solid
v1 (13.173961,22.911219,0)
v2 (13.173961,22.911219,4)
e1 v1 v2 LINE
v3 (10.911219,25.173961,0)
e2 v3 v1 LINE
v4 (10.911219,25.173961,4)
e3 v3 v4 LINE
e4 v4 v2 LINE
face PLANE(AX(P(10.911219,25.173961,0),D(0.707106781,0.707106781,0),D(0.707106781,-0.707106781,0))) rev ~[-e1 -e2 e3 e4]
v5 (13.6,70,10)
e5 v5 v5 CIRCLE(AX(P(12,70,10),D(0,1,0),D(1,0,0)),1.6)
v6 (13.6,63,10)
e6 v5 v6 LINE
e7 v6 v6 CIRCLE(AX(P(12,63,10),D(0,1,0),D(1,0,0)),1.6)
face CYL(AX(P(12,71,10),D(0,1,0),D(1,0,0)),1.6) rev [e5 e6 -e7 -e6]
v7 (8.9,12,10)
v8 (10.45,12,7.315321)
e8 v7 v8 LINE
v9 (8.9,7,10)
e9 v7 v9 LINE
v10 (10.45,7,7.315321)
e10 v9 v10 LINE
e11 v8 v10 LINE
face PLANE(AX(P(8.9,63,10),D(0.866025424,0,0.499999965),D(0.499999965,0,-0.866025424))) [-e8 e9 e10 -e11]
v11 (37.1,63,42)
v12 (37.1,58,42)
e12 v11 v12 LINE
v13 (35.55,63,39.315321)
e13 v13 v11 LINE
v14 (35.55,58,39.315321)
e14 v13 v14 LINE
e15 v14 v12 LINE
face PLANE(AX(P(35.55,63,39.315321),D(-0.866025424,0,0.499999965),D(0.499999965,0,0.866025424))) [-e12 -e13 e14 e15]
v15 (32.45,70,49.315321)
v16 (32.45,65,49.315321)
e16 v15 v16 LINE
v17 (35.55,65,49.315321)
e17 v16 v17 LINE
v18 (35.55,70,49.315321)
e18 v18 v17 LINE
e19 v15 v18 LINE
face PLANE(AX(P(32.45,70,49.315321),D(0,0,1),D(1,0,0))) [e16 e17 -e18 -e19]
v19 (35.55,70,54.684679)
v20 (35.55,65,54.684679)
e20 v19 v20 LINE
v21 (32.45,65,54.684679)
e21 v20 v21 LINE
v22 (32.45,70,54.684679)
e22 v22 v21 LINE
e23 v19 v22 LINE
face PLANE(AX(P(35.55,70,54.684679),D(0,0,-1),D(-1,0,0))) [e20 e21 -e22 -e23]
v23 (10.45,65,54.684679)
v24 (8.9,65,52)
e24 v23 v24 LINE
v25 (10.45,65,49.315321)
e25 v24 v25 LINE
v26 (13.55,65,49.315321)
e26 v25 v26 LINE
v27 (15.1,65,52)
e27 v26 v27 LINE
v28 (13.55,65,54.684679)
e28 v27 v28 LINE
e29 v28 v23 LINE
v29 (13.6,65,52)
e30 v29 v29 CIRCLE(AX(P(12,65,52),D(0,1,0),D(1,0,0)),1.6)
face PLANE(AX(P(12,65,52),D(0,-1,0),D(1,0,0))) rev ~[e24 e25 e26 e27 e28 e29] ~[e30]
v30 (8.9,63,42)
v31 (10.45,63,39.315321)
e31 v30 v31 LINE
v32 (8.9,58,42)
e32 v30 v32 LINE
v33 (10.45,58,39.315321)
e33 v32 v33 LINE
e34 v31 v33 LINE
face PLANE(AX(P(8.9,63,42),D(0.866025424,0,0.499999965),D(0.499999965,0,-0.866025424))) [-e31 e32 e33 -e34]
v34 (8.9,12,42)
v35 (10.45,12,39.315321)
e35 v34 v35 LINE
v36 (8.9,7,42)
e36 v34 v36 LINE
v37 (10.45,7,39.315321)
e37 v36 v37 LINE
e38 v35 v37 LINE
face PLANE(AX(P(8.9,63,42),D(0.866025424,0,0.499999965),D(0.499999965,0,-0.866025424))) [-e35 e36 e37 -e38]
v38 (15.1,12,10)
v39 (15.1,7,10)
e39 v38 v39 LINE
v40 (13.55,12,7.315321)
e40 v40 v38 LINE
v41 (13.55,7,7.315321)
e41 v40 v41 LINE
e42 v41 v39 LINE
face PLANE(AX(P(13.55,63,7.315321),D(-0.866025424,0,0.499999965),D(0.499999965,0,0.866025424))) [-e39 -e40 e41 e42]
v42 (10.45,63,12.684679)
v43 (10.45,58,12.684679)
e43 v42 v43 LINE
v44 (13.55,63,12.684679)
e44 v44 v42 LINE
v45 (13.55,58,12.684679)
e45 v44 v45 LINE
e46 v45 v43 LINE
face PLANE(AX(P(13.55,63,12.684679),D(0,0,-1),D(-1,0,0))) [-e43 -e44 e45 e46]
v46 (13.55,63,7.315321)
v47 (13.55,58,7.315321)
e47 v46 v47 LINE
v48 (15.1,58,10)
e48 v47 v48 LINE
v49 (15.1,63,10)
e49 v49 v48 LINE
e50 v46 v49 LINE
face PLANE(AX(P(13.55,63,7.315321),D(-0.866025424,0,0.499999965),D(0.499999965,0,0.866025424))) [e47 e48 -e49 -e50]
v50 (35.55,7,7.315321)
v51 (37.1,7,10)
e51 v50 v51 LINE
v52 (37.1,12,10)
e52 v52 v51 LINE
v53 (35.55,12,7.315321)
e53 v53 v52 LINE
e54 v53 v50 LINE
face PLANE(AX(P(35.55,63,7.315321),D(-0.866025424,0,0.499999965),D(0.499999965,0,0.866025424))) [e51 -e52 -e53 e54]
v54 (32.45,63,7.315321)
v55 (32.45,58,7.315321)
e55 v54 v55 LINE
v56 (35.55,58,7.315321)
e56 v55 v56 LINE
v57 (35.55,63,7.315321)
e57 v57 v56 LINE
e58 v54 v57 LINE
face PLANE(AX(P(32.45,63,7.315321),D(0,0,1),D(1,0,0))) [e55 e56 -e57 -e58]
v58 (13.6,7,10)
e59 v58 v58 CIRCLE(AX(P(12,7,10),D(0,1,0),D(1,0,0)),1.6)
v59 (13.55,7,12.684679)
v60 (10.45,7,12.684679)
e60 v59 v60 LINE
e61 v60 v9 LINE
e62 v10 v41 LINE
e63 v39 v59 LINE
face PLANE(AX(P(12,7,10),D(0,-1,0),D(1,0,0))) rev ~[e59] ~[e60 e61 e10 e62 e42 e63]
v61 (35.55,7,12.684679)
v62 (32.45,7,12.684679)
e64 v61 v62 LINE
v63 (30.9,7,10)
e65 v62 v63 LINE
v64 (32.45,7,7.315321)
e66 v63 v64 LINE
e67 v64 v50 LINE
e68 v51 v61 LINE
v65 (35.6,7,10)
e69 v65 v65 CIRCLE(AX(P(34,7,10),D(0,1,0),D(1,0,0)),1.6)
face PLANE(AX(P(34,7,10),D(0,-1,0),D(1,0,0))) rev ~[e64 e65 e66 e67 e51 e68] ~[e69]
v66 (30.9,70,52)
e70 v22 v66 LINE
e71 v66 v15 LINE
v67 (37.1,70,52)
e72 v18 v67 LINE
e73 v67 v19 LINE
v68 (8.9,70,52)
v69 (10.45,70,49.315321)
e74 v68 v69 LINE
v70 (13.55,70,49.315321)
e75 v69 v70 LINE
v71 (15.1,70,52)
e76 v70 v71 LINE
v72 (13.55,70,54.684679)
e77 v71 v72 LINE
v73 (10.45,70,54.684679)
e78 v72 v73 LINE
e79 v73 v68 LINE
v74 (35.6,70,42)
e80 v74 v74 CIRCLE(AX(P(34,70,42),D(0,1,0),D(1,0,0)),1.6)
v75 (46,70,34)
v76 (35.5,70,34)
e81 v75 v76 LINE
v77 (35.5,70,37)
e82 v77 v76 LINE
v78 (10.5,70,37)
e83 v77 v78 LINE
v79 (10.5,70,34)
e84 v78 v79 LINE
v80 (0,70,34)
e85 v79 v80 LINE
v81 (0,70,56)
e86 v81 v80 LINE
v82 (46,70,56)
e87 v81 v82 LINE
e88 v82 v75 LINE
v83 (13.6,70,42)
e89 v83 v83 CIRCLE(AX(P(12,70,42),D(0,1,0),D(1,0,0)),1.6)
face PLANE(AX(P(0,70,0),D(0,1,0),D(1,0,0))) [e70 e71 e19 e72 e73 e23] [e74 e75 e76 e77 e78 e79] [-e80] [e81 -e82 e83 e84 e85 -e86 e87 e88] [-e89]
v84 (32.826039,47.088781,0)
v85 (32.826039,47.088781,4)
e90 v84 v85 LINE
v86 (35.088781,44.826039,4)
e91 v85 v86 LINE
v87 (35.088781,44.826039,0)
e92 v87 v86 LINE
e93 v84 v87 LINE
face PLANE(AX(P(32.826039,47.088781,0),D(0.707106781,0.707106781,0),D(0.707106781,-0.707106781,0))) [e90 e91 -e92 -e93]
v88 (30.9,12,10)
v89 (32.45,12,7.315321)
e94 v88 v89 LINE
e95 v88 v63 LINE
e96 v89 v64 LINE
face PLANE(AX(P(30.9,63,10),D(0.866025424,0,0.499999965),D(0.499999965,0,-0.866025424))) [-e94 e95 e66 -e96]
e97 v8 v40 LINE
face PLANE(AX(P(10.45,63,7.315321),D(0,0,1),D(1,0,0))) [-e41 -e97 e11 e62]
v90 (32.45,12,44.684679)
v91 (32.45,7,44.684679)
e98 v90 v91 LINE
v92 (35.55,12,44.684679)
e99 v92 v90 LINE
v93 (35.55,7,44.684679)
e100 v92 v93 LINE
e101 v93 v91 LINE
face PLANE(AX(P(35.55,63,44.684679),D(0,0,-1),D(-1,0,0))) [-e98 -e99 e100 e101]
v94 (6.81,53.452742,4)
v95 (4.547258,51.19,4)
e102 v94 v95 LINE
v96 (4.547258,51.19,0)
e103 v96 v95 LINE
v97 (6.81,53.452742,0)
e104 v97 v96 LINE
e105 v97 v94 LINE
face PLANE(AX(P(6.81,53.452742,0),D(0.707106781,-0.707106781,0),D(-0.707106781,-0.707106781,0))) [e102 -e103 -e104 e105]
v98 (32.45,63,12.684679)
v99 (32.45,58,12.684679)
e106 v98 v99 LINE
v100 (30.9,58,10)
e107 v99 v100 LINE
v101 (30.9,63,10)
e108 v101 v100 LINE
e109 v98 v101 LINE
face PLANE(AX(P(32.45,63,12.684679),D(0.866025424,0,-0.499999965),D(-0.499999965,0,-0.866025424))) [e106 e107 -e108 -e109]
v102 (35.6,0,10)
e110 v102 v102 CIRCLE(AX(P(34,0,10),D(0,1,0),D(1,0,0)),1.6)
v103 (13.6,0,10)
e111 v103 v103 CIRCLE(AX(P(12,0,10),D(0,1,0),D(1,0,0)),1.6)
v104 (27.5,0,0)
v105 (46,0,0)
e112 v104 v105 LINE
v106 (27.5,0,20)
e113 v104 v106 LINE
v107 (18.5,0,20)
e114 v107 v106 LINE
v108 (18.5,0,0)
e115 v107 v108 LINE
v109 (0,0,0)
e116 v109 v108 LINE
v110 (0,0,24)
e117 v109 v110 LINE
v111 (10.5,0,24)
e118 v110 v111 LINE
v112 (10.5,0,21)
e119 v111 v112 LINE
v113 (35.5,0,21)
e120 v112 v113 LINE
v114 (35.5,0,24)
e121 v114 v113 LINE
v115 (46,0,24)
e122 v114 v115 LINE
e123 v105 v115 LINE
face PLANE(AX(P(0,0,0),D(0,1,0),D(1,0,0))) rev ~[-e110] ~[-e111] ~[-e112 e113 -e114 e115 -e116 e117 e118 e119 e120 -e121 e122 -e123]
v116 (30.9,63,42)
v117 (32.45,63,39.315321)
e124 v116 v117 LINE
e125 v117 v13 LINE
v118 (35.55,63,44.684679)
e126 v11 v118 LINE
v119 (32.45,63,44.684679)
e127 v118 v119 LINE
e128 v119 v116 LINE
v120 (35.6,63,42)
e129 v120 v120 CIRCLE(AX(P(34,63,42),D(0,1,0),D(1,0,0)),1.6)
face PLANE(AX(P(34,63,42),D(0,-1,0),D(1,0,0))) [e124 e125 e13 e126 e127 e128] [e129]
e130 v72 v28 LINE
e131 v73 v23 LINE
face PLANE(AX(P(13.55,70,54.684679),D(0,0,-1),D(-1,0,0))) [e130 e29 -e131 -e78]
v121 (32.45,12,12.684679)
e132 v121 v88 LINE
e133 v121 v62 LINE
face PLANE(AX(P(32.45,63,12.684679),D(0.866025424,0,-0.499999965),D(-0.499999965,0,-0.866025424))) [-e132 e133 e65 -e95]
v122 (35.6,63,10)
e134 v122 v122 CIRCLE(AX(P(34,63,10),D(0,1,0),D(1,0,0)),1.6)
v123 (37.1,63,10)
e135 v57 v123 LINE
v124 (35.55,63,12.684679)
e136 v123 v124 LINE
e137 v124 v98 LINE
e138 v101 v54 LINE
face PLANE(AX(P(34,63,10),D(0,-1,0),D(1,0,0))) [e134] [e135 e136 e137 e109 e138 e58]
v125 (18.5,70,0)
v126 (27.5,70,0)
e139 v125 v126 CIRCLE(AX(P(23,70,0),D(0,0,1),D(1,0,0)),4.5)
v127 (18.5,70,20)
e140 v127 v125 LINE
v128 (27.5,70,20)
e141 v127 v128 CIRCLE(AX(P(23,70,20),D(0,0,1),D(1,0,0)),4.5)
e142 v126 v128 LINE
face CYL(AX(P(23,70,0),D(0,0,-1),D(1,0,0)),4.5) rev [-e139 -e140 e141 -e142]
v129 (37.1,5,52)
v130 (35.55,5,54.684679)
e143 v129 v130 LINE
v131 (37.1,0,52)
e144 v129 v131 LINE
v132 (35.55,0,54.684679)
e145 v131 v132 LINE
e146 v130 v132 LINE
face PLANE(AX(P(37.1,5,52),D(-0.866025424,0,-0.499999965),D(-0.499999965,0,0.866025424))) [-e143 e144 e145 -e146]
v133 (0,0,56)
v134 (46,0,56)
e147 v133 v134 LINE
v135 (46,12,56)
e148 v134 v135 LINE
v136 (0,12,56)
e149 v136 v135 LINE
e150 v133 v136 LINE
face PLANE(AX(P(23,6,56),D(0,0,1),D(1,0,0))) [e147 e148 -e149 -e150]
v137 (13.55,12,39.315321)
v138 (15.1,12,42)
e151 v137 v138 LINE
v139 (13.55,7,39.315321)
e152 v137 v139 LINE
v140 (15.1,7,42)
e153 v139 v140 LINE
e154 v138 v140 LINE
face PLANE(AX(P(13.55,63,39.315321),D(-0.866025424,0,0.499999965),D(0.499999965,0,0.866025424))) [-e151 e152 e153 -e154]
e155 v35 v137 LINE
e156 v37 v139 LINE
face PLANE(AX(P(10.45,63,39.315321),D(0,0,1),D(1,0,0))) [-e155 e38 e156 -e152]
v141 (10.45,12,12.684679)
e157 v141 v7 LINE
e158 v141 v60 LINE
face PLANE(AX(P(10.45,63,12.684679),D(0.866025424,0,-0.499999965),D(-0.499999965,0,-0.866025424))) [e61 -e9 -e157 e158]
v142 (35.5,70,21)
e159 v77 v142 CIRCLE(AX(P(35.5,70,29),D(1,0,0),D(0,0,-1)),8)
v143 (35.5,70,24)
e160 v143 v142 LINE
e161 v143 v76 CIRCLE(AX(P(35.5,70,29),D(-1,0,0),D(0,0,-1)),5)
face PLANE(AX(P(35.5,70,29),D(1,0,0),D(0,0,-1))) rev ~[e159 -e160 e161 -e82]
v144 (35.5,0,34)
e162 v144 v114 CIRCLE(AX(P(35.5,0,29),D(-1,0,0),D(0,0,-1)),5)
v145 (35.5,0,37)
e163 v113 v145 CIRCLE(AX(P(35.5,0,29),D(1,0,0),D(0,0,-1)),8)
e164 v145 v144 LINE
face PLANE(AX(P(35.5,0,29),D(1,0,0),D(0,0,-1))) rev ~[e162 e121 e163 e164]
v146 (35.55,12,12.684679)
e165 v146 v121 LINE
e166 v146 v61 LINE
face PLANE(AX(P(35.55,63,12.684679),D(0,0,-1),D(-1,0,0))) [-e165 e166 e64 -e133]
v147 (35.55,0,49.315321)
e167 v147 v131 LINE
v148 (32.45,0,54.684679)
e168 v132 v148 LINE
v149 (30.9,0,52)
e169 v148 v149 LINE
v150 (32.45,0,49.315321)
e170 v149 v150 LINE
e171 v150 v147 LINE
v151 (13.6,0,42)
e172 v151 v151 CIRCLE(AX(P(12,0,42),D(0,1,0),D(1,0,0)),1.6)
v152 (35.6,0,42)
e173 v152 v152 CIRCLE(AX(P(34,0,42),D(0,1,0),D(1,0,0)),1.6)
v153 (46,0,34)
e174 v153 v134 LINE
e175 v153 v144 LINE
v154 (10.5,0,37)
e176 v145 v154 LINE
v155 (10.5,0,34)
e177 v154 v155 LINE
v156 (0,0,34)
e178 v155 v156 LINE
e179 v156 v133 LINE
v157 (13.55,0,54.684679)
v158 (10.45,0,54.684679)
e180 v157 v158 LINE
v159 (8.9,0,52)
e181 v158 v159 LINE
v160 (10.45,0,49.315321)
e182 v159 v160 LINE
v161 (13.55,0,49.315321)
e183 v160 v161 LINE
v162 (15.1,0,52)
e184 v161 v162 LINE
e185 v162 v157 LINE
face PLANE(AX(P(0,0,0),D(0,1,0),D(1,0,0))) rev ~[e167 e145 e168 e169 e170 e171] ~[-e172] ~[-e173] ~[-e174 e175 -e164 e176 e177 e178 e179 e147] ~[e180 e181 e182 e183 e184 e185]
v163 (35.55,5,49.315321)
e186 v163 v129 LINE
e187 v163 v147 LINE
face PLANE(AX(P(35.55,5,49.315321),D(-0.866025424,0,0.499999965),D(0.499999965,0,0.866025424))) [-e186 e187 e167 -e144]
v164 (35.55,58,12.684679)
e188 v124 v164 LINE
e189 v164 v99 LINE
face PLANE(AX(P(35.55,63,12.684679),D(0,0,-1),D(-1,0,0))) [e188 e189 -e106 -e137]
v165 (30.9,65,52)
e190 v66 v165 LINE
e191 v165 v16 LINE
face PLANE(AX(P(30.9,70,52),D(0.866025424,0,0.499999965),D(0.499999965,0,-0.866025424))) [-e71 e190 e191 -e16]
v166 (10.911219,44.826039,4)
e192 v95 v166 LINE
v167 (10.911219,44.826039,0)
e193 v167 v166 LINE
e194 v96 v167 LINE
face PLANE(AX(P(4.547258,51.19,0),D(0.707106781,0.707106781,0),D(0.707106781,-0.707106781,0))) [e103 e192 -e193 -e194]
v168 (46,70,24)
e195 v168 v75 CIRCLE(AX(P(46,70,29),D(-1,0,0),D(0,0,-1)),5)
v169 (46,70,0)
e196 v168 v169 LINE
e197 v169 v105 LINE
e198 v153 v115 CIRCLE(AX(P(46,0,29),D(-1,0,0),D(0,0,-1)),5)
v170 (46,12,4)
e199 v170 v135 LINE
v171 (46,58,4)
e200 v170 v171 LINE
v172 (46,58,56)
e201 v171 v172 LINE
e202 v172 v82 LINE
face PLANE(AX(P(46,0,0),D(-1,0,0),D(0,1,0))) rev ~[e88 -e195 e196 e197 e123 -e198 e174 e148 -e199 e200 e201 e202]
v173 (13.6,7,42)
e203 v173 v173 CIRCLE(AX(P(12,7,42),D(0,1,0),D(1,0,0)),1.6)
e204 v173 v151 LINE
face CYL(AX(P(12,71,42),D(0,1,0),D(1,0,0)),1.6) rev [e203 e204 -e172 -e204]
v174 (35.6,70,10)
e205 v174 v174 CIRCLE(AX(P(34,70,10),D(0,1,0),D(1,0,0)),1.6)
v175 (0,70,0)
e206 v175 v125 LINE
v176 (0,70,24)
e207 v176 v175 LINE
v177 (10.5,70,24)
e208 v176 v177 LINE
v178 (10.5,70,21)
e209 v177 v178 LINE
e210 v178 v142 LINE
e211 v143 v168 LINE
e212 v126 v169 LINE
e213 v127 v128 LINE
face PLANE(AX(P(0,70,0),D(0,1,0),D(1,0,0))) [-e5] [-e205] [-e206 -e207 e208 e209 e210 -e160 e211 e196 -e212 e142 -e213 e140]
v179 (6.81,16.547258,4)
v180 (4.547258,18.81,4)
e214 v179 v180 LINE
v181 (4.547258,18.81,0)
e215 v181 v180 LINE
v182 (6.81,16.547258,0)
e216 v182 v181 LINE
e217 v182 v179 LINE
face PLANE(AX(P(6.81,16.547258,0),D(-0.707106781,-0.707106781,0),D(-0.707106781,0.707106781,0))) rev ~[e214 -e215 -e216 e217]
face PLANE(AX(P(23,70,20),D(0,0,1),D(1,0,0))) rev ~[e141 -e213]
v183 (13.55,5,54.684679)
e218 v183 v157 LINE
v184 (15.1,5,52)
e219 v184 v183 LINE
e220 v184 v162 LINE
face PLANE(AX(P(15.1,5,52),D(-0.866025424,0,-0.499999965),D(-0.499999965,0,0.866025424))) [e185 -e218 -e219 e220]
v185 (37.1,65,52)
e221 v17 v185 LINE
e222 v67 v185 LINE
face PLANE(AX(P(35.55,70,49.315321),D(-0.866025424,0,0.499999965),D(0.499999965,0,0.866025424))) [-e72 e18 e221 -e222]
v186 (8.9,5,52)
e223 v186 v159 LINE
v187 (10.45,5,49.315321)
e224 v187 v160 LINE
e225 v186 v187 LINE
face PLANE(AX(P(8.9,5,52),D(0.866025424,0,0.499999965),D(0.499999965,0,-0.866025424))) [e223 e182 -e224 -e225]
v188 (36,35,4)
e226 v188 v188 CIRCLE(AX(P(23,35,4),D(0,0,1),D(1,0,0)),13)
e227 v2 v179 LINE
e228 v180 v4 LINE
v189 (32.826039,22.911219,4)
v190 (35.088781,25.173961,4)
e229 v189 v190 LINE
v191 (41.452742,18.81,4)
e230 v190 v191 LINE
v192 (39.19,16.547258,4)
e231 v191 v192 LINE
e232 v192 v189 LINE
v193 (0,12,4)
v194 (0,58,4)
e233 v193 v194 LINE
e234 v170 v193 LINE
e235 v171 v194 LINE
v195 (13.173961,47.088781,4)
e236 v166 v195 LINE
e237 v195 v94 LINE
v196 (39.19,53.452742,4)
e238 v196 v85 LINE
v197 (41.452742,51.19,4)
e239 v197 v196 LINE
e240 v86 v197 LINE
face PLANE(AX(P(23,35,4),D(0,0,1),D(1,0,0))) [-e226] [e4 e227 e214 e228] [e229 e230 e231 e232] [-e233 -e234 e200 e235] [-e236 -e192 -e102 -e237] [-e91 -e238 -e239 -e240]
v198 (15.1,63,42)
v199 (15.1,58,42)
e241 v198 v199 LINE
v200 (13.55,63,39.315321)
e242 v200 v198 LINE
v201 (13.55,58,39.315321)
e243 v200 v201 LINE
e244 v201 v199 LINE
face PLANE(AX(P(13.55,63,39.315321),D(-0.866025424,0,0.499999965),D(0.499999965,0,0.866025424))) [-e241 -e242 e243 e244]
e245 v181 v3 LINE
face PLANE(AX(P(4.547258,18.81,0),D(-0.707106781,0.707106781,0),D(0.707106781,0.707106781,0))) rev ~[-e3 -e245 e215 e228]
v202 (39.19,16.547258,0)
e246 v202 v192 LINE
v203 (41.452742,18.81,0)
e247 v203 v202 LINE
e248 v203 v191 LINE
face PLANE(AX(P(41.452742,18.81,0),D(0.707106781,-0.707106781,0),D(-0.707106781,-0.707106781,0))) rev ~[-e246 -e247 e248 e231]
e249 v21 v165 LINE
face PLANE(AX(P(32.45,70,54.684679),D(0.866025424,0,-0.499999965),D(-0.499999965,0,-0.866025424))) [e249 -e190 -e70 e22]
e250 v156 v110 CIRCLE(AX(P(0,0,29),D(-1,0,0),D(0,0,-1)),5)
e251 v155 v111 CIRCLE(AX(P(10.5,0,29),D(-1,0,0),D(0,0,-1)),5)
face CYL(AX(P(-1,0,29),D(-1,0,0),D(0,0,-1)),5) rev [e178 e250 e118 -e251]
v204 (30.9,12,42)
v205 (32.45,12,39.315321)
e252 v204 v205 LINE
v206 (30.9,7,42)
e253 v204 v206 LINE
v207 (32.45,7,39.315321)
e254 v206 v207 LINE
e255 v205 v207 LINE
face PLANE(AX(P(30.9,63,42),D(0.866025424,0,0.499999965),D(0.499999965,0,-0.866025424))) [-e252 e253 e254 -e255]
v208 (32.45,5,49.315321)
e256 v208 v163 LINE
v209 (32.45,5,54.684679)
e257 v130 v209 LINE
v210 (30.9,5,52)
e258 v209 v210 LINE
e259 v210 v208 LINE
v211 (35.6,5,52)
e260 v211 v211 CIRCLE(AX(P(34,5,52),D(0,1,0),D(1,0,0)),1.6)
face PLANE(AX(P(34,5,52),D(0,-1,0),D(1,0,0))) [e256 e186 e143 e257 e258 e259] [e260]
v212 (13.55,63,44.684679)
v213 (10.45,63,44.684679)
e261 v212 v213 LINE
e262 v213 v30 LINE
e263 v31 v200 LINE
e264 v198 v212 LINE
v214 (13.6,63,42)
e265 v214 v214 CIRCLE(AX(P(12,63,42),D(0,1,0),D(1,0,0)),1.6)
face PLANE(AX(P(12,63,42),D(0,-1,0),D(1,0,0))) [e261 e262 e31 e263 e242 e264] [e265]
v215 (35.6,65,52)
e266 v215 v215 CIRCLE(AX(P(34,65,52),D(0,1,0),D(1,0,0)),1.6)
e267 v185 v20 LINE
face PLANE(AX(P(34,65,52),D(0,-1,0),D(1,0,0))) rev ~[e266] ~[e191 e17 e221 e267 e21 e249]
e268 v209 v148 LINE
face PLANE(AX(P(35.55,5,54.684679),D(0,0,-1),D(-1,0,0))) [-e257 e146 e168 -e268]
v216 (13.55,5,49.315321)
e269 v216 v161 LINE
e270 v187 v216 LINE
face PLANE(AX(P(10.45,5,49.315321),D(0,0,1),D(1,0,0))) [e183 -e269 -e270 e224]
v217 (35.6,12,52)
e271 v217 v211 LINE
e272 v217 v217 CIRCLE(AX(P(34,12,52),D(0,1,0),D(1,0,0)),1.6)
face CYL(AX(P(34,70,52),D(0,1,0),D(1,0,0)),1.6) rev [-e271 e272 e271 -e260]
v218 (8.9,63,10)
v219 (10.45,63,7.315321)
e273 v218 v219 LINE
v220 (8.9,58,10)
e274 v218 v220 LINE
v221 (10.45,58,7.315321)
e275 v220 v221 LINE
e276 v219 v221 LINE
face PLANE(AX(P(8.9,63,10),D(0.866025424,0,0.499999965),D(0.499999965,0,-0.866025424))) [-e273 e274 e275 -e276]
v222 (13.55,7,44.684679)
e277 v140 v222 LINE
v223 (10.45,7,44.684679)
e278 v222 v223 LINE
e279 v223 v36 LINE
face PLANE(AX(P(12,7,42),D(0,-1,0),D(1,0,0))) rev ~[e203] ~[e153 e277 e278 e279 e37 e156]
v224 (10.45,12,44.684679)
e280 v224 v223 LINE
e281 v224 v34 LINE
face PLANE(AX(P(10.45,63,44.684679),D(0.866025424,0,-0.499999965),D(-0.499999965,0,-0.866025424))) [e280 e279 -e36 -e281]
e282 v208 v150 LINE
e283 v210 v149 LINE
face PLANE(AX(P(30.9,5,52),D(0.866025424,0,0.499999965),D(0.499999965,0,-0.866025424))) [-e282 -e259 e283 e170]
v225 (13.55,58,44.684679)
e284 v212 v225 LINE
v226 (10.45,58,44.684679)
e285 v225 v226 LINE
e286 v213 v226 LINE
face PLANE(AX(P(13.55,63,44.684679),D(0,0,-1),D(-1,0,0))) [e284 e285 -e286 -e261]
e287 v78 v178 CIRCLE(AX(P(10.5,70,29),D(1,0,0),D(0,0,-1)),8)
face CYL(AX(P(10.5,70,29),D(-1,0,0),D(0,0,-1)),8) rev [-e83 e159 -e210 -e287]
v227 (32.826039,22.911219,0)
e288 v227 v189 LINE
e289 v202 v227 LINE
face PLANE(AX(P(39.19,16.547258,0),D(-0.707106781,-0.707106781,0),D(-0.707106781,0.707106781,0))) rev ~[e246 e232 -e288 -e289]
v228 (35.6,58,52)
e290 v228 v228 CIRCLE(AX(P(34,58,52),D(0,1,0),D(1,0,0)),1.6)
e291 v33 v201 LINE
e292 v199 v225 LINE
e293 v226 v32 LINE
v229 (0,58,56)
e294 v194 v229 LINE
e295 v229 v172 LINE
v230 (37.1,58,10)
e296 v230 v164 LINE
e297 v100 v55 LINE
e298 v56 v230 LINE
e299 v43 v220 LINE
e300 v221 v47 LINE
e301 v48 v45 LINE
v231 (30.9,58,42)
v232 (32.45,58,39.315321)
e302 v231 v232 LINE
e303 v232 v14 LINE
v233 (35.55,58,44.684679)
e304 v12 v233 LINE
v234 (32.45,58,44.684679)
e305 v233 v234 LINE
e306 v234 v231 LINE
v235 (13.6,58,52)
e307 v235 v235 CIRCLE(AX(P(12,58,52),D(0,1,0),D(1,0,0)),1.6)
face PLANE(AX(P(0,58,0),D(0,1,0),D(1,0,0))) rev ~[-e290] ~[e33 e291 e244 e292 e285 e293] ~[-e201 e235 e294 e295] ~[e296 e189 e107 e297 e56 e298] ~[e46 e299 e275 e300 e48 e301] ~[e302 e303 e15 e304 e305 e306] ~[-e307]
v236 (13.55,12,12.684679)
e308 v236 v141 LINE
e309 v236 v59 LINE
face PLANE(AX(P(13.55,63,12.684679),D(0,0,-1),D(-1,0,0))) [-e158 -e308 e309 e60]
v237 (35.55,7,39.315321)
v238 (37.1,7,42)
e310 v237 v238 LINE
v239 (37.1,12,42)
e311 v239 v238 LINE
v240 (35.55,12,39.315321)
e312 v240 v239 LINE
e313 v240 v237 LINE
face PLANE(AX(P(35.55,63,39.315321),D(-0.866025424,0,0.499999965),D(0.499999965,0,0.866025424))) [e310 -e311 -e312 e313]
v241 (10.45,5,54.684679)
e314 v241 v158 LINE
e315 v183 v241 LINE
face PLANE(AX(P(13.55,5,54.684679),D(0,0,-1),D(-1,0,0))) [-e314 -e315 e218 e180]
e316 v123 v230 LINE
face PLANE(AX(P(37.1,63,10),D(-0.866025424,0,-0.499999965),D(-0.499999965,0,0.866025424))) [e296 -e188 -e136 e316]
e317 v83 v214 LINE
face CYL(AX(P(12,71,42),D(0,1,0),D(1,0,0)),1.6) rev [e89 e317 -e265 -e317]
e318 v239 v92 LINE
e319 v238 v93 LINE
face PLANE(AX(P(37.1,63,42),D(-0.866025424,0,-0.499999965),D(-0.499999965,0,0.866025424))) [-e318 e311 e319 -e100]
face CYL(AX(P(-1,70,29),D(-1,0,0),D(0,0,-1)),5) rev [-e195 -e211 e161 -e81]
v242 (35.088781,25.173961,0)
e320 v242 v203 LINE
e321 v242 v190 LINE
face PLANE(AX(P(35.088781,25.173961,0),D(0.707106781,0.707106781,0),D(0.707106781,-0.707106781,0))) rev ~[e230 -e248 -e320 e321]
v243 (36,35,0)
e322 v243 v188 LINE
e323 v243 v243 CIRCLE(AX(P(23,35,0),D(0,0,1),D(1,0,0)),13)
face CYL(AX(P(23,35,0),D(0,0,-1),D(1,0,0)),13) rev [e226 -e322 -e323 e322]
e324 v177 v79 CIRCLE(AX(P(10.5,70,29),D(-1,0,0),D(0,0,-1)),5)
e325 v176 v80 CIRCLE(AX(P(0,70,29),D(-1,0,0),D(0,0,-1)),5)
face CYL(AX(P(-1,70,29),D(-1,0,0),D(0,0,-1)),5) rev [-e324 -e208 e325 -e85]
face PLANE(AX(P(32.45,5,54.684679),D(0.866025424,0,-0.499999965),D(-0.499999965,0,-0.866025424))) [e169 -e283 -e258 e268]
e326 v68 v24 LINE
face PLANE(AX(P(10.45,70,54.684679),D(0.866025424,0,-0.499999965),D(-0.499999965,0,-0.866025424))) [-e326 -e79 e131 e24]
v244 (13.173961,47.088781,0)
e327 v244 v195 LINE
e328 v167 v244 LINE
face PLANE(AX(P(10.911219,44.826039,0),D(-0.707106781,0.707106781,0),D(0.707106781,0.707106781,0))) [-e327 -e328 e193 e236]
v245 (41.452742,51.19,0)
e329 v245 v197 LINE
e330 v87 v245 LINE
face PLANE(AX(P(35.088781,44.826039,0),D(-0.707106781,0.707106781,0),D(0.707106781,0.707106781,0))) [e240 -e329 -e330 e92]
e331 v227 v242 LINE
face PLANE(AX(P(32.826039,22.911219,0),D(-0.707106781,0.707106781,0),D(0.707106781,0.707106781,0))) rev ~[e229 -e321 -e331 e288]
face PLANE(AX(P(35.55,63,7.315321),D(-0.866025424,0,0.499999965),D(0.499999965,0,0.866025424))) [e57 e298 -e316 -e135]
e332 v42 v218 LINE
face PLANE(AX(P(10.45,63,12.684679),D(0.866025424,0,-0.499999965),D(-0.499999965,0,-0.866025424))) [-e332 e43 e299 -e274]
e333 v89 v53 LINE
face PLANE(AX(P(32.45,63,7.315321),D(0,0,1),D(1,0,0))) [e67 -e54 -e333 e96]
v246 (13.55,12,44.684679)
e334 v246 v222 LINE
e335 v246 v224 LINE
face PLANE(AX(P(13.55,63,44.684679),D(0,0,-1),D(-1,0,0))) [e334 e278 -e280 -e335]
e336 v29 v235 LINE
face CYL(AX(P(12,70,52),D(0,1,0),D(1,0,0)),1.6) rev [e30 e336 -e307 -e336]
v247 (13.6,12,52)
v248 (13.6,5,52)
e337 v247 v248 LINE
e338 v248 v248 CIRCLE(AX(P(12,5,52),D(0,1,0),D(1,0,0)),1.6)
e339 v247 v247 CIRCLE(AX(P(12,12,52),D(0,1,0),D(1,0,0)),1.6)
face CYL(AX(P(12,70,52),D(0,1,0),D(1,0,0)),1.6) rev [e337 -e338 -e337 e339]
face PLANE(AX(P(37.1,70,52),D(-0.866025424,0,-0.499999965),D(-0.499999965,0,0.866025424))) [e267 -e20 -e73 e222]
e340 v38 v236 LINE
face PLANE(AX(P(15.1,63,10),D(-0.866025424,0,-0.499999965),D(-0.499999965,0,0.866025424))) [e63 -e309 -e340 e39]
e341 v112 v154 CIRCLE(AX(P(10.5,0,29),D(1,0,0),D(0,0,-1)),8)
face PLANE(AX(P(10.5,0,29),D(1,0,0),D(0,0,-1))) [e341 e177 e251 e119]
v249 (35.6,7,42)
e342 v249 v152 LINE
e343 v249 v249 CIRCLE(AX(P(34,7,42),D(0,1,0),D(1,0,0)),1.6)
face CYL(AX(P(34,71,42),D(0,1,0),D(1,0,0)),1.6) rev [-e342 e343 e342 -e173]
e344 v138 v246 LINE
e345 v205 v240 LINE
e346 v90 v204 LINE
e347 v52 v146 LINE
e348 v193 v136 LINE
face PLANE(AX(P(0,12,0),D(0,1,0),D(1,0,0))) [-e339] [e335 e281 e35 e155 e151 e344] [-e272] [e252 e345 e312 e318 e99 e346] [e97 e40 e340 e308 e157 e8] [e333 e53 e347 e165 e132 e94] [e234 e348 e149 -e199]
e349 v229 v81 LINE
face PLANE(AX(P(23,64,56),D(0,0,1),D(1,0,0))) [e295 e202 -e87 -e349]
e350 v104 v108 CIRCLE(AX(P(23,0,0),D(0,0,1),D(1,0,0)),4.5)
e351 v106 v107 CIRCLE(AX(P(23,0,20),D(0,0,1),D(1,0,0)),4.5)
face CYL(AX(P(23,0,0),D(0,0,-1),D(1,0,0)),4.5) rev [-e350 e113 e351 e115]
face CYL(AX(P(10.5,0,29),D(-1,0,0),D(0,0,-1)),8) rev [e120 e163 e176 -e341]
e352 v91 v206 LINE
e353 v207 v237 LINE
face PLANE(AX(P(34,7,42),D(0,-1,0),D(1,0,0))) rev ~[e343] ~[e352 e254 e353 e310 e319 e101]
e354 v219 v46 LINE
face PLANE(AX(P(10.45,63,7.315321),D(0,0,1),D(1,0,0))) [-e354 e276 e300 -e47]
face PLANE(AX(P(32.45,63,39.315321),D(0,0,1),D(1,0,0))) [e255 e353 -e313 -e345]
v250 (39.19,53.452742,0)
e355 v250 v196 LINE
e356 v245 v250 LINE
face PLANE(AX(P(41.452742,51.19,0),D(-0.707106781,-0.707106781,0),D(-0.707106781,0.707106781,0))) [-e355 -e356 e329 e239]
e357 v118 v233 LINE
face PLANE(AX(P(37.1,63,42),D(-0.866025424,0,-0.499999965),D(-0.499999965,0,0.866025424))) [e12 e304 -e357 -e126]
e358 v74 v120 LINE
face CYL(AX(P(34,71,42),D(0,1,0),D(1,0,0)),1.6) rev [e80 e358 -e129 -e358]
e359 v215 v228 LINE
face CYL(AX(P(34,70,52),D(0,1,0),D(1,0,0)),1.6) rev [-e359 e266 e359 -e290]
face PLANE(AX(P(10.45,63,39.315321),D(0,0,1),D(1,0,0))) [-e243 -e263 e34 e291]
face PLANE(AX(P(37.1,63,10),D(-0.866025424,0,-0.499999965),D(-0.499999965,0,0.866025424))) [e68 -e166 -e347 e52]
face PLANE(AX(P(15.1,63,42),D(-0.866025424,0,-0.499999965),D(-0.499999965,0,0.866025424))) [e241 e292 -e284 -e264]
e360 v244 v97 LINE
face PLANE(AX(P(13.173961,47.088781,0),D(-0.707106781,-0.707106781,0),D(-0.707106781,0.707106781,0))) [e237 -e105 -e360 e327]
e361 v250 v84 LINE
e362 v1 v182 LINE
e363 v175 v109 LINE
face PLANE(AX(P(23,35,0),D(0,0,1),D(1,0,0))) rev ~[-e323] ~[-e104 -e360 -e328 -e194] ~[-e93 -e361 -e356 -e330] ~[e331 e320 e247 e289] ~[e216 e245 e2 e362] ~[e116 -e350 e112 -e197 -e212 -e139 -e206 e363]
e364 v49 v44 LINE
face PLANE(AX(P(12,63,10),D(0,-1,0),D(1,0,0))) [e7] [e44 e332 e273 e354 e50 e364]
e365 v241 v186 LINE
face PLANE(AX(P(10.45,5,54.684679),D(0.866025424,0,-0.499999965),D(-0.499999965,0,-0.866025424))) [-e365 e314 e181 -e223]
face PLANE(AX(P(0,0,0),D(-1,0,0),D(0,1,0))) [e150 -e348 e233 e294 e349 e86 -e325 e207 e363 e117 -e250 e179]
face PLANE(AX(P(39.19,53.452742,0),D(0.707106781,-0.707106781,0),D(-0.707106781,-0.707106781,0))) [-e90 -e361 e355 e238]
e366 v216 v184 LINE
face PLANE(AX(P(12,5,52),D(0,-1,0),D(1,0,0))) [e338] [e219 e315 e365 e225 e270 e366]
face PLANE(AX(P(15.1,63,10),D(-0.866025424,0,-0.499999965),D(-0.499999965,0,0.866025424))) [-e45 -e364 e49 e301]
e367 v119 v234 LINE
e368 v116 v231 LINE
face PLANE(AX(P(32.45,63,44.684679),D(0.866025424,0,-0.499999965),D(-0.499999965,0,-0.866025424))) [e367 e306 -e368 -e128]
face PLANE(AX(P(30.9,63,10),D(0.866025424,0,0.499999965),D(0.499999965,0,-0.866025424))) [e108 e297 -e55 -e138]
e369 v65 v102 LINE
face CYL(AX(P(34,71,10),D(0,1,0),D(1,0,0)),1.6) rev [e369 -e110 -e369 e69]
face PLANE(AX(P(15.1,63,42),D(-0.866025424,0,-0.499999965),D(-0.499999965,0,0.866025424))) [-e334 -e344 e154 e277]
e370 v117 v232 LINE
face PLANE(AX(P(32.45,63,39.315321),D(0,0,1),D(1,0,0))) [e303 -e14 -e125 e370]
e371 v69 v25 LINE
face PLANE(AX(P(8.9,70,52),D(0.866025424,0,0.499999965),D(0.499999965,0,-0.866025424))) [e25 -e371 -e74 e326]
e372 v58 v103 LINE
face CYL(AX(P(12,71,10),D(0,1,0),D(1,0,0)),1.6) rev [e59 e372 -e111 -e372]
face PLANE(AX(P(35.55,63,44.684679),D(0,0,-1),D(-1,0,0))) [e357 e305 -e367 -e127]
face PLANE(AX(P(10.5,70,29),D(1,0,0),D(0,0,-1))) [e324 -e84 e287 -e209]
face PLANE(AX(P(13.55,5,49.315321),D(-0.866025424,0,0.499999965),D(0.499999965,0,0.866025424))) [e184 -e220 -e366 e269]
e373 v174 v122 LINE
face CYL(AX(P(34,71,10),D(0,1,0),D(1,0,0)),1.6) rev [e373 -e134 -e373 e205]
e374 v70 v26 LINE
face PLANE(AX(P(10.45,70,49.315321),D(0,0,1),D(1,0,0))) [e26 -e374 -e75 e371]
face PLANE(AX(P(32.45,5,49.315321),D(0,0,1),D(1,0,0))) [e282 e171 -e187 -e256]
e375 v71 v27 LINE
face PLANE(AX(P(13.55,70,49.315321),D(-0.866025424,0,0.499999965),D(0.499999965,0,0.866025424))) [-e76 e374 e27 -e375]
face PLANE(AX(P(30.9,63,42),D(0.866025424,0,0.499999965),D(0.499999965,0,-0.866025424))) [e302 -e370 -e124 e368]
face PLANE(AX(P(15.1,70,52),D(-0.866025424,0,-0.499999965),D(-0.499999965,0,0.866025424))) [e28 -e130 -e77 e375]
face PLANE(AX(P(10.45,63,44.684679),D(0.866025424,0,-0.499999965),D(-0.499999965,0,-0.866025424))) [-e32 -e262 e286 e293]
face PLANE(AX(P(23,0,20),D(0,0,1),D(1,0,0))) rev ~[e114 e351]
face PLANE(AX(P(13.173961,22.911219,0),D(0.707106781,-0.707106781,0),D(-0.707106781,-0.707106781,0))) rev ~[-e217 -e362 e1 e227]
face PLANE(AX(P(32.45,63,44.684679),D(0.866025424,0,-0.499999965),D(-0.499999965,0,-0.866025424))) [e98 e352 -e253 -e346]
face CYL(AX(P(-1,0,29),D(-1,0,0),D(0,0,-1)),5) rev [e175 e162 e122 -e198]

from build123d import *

# Parameters (mm, degrees)
CYLINDER011_R           = 1.6
CYLINDER011_DEPTH       = 70
CYLINDER011_ROLL_ANGLE  = 90
CYLINDER010_R           = 1.6
CYLINDER010_DEPTH       = 70
CYLINDER010_ROLL_ANGLE  = 90
PRISM007_DEPTH          = 5
PRISM007_ROLL_ANGLE     = 90
PRISM006_DEPTH          = 5
PRISM006_ROLL_ANGLE     = 90
PRISM005_DEPTH          = 5
PRISM005_ROLL_ANGLE     = 90
PRISM004_DEPTH          = 5
PRISM004_ROLL_ANGLE     = 90
PRISM003_DEPTH          = 56
PRISM003_ROLL_ANGLE     = 90
PRISM002_DEPTH          = 56
PRISM002_ROLL_ANGLE     = 90
PRISM001_DEPTH          = 56
PRISM001_ROLL_ANGLE     = 90
PRISM_DEPTH             = 56
PRISM_ROLL_ANGLE        = 90
CYLINDER009_R           = 1.6
CYLINDER009_DEPTH       = 72
CYLINDER009_ROLL_ANGLE  = 90
CYLINDER008_R           = 1.6
CYLINDER008_DEPTH       = 72
CYLINDER008_ROLL_ANGLE  = 90
CYLINDER007_R           = 1.6
CYLINDER007_DEPTH       = 72
CYLINDER007_ROLL_ANGLE  = 90
CYLINDER006_R           = 1.6
CYLINDER006_DEPTH       = 72
CYLINDER006_ROLL_ANGLE  = 90
CYLINDER005_R           = 8
CYLINDER005_DEPTH       = 25
CYLINDER005_PITCH_ANGLE = 90
CYLINDER004_R           = 8
CYLINDER004_DEPTH       = 25
CYLINDER004_PITCH_ANGLE = 90
CYLINDER003_R           = 5
CYLINDER003_DEPTH       = 48
CYLINDER003_PITCH_ANGLE = 90
CYLINDER002_R           = 5
CYLINDER002_DEPTH       = 48
CYLINDER002_PITCH_ANGLE = 90
CYLINDER001_R           = 4.5
CYLINDER001_DEPTH       = 20
CYLINDER_R              = 4.5
CYLINDER_DEPTH          = 20
BOX001_W                = 46
BOX001_H                = 12
BOX001_DEPTH            = 56
BOX_W                   = 46
BOX_H                   = 12
BOX_DEPTH               = 56
SKETCH_W                = 46
SKETCH_H                = 70
SKETCH_R                = 13
PAD_DEPTH               = 4


with BuildPart() as cilindro011:
    # Cylinder011 → Cylinder011 (new body)
    with BuildSketch(Plane.XY):
        Circle(CYLINDER011_R)
    extrude(amount=CYLINDER011_DEPTH)


with BuildPart() as cilindro011_1:
    # Cylinder011 roll: moved
    add(cilindro011.part.rotate(Axis((0, 0, 0), (1, 0, 0)), CYLINDER011_ROLL_ANGLE))


with BuildPart() as cilindro011_2:
    # Cylinder011 placement: moved
    add(cilindro011_1.part.moved(Location((34, 70, 52))))


with BuildPart() as cilindro010:
    # Cylinder010 → Cylinder010 (new body)
    with BuildSketch(Plane.XY):
        Circle(CYLINDER010_R)
    extrude(amount=CYLINDER010_DEPTH)


with BuildPart() as cilindro010_1:
    # Cylinder010 roll: moved
    add(cilindro010.part.rotate(Axis((0, 0, 0), (1, 0, 0)), CYLINDER010_ROLL_ANGLE))


with BuildPart() as cilindro010_2:
    # Cylinder010 placement: moved
    add(cilindro010_1.part.moved(Location((12, 70, 52))))


with BuildPart() as prisma007:
    # Prism007 → Prism007 (new body)
    with BuildSketch(Plane.XY):
        Polygon((3.1, 0), (1.55, 2.684679), (-1.55, 2.684679), (-3.1, 0), (-1.55, -2.684679), (1.55, -2.684679), align=None)
    extrude(amount=PRISM007_DEPTH)


with BuildPart() as prisma007_1:
    # Prism007 roll: moved
    add(prisma007.part.rotate(Axis((0, 0, 0), (1, 0, 0)), PRISM007_ROLL_ANGLE))


with BuildPart() as prisma007_2:
    # Prism007 placement: moved
    add(prisma007_1.part.moved(Location((34, 70, 52))))


with BuildPart() as prisma006:
    # Prism006 → Prism006 (new body)
    with BuildSketch(Plane.XY):
        Polygon((3.1, 0), (1.55, 2.684679), (-1.55, 2.684679), (-3.1, 0), (-1.55, -2.684679), (1.55, -2.684679), align=None)
    extrude(amount=PRISM006_DEPTH)


with BuildPart() as prisma006_1:
    # Prism006 roll: moved
    add(prisma006.part.rotate(Axis((0, 0, 0), (1, 0, 0)), PRISM006_ROLL_ANGLE))


with BuildPart() as prisma006_2:
    # Prism006 placement: moved
    add(prisma006_1.part.moved(Location((12, 70, 52))))


with BuildPart() as prisma005:
    # Prism005 → Prism005 (new body)
    with BuildSketch(Plane.XY):
        Polygon((3.1, 0), (1.55, 2.684679), (-1.55, 2.684679), (-3.1, 0), (-1.55, -2.684679), (1.55, -2.684679), align=None)
    extrude(amount=PRISM005_DEPTH)


with BuildPart() as prisma005_1:
    # Prism005 roll: moved
    add(prisma005.part.rotate(Axis((0, 0, 0), (1, 0, 0)), PRISM005_ROLL_ANGLE))


with BuildPart() as prisma005_2:
    # Prism005 placement: moved
    add(prisma005_1.part.moved(Location((34, 5, 52))))


with BuildPart() as prisma004:
    # Prism004 → Prism004 (new body)
    with BuildSketch(Plane.XY):
        Polygon((3.1, 0), (1.55, 2.684679), (-1.55, 2.684679), (-3.1, 0), (-1.55, -2.684679), (1.55, -2.684679), align=None)
    extrude(amount=PRISM004_DEPTH)


with BuildPart() as prisma004_1:
    # Prism004 roll: moved
    add(prisma004.part.rotate(Axis((0, 0, 0), (1, 0, 0)), PRISM004_ROLL_ANGLE))


with BuildPart() as prisma004_2:
    # Prism004 placement: moved
    add(prisma004_1.part.moved(Location((12, 5, 52))))


with BuildPart() as prisma003:
    # Prism003 → Prism003 (new body)
    with BuildSketch(Plane.XY):
        Polygon((3.1, 0), (1.55, 2.684679), (-1.55, 2.684679), (-3.1, 0), (-1.55, -2.684679), (1.55, -2.684679), align=None)
    extrude(amount=PRISM003_DEPTH)


with BuildPart() as prisma003_1:
    # Prism003 roll: moved
    add(prisma003.part.rotate(Axis((0, 0, 0), (1, 0, 0)), PRISM003_ROLL_ANGLE))


with BuildPart() as prisma003_2:
    # Prism003 placement: moved
    add(prisma003_1.part.moved(Location((34, 63, 42))))


with BuildPart() as prisma002:
    # Prism002 → Prism002 (new body)
    with BuildSketch(Plane.XY):
        Polygon((3.1, 0), (1.55, 2.684679), (-1.55, 2.684679), (-3.1, 0), (-1.55, -2.684679), (1.55, -2.684679), align=None)
    extrude(amount=PRISM002_DEPTH)


with BuildPart() as prisma002_1:
    # Prism002 roll: moved
    add(prisma002.part.rotate(Axis((0, 0, 0), (1, 0, 0)), PRISM002_ROLL_ANGLE))


with BuildPart() as prisma002_2:
    # Prism002 placement: moved
    add(prisma002_1.part.moved(Location((12, 63, 42))))


with BuildPart() as prisma001:
    # Prism001 → Prism001 (new body)
    with BuildSketch(Plane.XY):
        Polygon((3.1, 0), (1.55, 2.684679), (-1.55, 2.684679), (-3.1, 0), (-1.55, -2.684679), (1.55, -2.684679), align=None)
    extrude(amount=PRISM001_DEPTH)


with BuildPart() as prisma001_1:
    # Prism001 roll: moved
    add(prisma001.part.rotate(Axis((0, 0, 0), (1, 0, 0)), PRISM001_ROLL_ANGLE))


with BuildPart() as prisma001_2:
    # Prism001 placement: moved
    add(prisma001_1.part.moved(Location((34, 63, 10))))


with BuildPart() as prisma:
    # Prism → Prism (new body)
    with BuildSketch(Plane.XY):
        Polygon((3.1, 0), (1.55, 2.684679), (-1.55, 2.684679), (-3.1, 0), (-1.55, -2.684679), (1.55, -2.684679), align=None)
    extrude(amount=PRISM_DEPTH)


with BuildPart() as prisma_1:
    # Prism roll: moved
    add(prisma.part.rotate(Axis((0, 0, 0), (1, 0, 0)), PRISM_ROLL_ANGLE))


with BuildPart() as prisma_2:
    # Prism placement: moved
    add(prisma_1.part.moved(Location((12, 63, 10))))


with BuildPart() as cilindro009:
    # Cylinder009 → Cylinder009 (new body)
    with BuildSketch(Plane.XY):
        Circle(CYLINDER009_R)
    extrude(amount=CYLINDER009_DEPTH)


with BuildPart() as cilindro009_1:
    # Cylinder009 roll: moved
    add(cilindro009.part.rotate(Axis((0, 0, 0), (1, 0, 0)), CYLINDER009_ROLL_ANGLE))


with BuildPart() as cilindro009_2:
    # Cylinder009 placement: moved
    add(cilindro009_1.part.moved(Location((34, 71, 42))))


with BuildPart() as cilindro008:
    # Cylinder008 → Cylinder008 (new body)
    with BuildSketch(Plane.XY):
        Circle(CYLINDER008_R)
    extrude(amount=CYLINDER008_DEPTH)


with BuildPart() as cilindro008_1:
    # Cylinder008 roll: moved
    add(cilindro008.part.rotate(Axis((0, 0, 0), (1, 0, 0)), CYLINDER008_ROLL_ANGLE))


with BuildPart() as cilindro008_2:
    # Cylinder008 placement: moved
    add(cilindro008_1.part.moved(Location((12, 71, 42))))


with BuildPart() as cilindro007:
    # Cylinder007 → Cylinder007 (new body)
    with BuildSketch(Plane.XY):
        Circle(CYLINDER007_R)
    extrude(amount=CYLINDER007_DEPTH)


with BuildPart() as cilindro007_1:
    # Cylinder007 roll: moved
    add(cilindro007.part.rotate(Axis((0, 0, 0), (1, 0, 0)), CYLINDER007_ROLL_ANGLE))


with BuildPart() as cilindro007_2:
    # Cylinder007 placement: moved
    add(cilindro007_1.part.moved(Location((34, 71, 10))))


with BuildPart() as cilindro006:
    # Cylinder006 → Cylinder006 (new body)
    with BuildSketch(Plane.XY):
        Circle(CYLINDER006_R)
    extrude(amount=CYLINDER006_DEPTH)


with BuildPart() as cilindro006_1:
    # Cylinder006 roll: moved
    add(cilindro006.part.rotate(Axis((0, 0, 0), (1, 0, 0)), CYLINDER006_ROLL_ANGLE))


with BuildPart() as cilindro006_2:
    # Cylinder006 placement: moved
    add(cilindro006_1.part.moved(Location((12, 71, 10))))


with BuildPart() as cilindro005:
    # Cylinder005 → Cylinder005 (new body)
    with BuildSketch(Plane.XY):
        Circle(CYLINDER005_R)
    extrude(amount=CYLINDER005_DEPTH)


with BuildPart() as cilindro005_1:
    # Cylinder005 pitch: moved
    add(cilindro005.part.rotate(Axis((0, 0, 0), (0, 1, 0)), CYLINDER005_PITCH_ANGLE))


with BuildPart() as cilindro005_2:
    # Cylinder005 placement: moved
    add(cilindro005_1.part.moved(Location((10.5, 70, 29))))


with BuildPart() as cilindro004:
    # Cylinder004 → Cylinder004 (new body)
    with BuildSketch(Plane.XY):
        Circle(CYLINDER004_R)
    extrude(amount=CYLINDER004_DEPTH)


with BuildPart() as cilindro004_1:
    # Cylinder004 pitch: moved
    add(cilindro004.part.rotate(Axis((0, 0, 0), (0, 1, 0)), CYLINDER004_PITCH_ANGLE))


with BuildPart() as cilindro004_2:
    # Cylinder004 placement: moved
    add(cilindro004_1.part.moved(Location((10.5, 0, 29))))


with BuildPart() as cilindro003:
    # Cylinder003 → Cylinder003 (new body)
    with BuildSketch(Plane.XY):
        Circle(CYLINDER003_R)
    extrude(amount=CYLINDER003_DEPTH)


with BuildPart() as cilindro003_1:
    # Cylinder003 pitch: moved
    add(cilindro003.part.rotate(Axis((0, 0, 0), (0, 1, 0)), CYLINDER003_PITCH_ANGLE))


with BuildPart() as cilindro003_2:
    # Cylinder003 placement: moved
    add(cilindro003_1.part.moved(Location((-1, 70, 29))))


with BuildPart() as cilindro002:
    # Cylinder002 → Cylinder002 (new body)
    with BuildSketch(Plane.XY):
        Circle(CYLINDER002_R)
    extrude(amount=CYLINDER002_DEPTH)


with BuildPart() as cilindro002_1:
    # Cylinder002 pitch: moved
    add(cilindro002.part.rotate(Axis((0, 0, 0), (0, 1, 0)), CYLINDER002_PITCH_ANGLE))


with BuildPart() as cilindro002_2:
    # Cylinder002 placement: moved
    add(cilindro002_1.part.moved(Location((-1, 0, 29))))


with BuildPart() as cilindro001:
    # Cylinder001 → Cylinder001 (new body)
    with BuildSketch(Plane(origin=(23, 70, 0), x_dir=(1, 0, 0), z_dir=(0, 0, 1))):
        Circle(CYLINDER001_R)
    extrude(amount=CYLINDER001_DEPTH)


with BuildPart() as cilindro:
    # Cylinder → Cylinder (new body)
    with BuildSketch(Plane(origin=(23, 0, 0), x_dir=(1, 0, 0), z_dir=(0, 0, 1))):
        Circle(CYLINDER_R)
    extrude(amount=CYLINDER_DEPTH)


with BuildPart() as cubo001:
    # Box001 → Box001 (new body)
    with BuildSketch(Plane(origin=(0, 58, 0), x_dir=(1, 0, 0), z_dir=(0, 0, 1))):
        with Locations((23, 6)):
            Rectangle(BOX001_W, BOX001_H)
    extrude(amount=BOX001_DEPTH)


with BuildPart() as cubo:
    # Box → Box (new body)
    with BuildSketch(Plane.XY):
        with Locations((23, 6)):
            Rectangle(BOX_W, BOX_H)
    extrude(amount=BOX_DEPTH)


with BuildPart() as cut019:
    # Sketch → Pad (new body)
    with BuildSketch(Plane.XY):
        with Locations((23, 35)):
            Rectangle(SKETCH_W, SKETCH_H)
        with Locations((23, 35)):
            Circle(SKETCH_R, mode=Mode.SUBTRACT)
        Polygon((39.19, 53.452742), (32.826039, 47.088781), (35.088781, 44.826039), (41.452742, 51.19), align=None, mode=Mode.SUBTRACT)
        Polygon((10.911219, 44.826039), (13.173961, 47.088781), (6.81, 53.452742), (4.547258, 51.19), align=None, mode=Mode.SUBTRACT)
        Polygon((4.547258, 18.81), (10.911219, 25.173961), (13.173961, 22.911219), (6.81, 16.547258), align=None, mode=Mode.SUBTRACT)
        Polygon((39.19, 16.547258), (32.826039, 22.911219), (35.088781, 25.173961), (41.452742, 18.81), align=None, mode=Mode.SUBTRACT)
    extrude(amount=PAD_DEPTH)

    # Fusion: union Cubo
    add(cubo.part)

    # Fusion001: union Cubo001
    add(cubo001.part)

    # Cut: cut Cilindro
    add(cilindro.part, mode=Mode.SUBTRACT)

    # Cut001: cut Cilindro001
    add(cilindro001.part, mode=Mode.SUBTRACT)

    # Cut002: cut Cilindro002
    add(cilindro002_2.part, mode=Mode.SUBTRACT)

    # Cut003: cut Cilindro003
    add(cilindro003_2.part, mode=Mode.SUBTRACT)

    # Cut004: cut Cilindro004
    add(cilindro004_2.part, mode=Mode.SUBTRACT)

    # Cut005: cut Cilindro005
    add(cilindro005_2.part, mode=Mode.SUBTRACT)

    # Cut006: cut Cilindro006
    add(cilindro006_2.part, mode=Mode.SUBTRACT)

    # Cut007: cut Cilindro007
    add(cilindro007_2.part, mode=Mode.SUBTRACT)

    # Cut008: cut Cilindro008
    add(cilindro008_2.part, mode=Mode.SUBTRACT)

    # Cut009: cut Cilindro009
    add(cilindro009_2.part, mode=Mode.SUBTRACT)

    # Cut010: cut Prisma
    add(prisma_2.part, mode=Mode.SUBTRACT)

    # Cut011: cut Prisma001
    add(prisma001_2.part, mode=Mode.SUBTRACT)

    # Cut012: cut Prisma002
    add(prisma002_2.part, mode=Mode.SUBTRACT)

    # Cut013: cut Prisma003
    add(prisma003_2.part, mode=Mode.SUBTRACT)

    # Cut014: cut Prisma004
    add(prisma004_2.part, mode=Mode.SUBTRACT)

    # Cut015: cut Prisma005
    add(prisma005_2.part, mode=Mode.SUBTRACT)

    # Cut016: cut Prisma006
    add(prisma006_2.part, mode=Mode.SUBTRACT)

    # Cut017: cut Prisma007
    add(prisma007_2.part, mode=Mode.SUBTRACT)

    # Cut018: cut Cilindro010
    add(cilindro010_2.part, mode=Mode.SUBTRACT)

    # Cut019: cut Cilindro011
    add(cilindro011_2.part, mode=Mode.SUBTRACT)


solid = cut019.part
